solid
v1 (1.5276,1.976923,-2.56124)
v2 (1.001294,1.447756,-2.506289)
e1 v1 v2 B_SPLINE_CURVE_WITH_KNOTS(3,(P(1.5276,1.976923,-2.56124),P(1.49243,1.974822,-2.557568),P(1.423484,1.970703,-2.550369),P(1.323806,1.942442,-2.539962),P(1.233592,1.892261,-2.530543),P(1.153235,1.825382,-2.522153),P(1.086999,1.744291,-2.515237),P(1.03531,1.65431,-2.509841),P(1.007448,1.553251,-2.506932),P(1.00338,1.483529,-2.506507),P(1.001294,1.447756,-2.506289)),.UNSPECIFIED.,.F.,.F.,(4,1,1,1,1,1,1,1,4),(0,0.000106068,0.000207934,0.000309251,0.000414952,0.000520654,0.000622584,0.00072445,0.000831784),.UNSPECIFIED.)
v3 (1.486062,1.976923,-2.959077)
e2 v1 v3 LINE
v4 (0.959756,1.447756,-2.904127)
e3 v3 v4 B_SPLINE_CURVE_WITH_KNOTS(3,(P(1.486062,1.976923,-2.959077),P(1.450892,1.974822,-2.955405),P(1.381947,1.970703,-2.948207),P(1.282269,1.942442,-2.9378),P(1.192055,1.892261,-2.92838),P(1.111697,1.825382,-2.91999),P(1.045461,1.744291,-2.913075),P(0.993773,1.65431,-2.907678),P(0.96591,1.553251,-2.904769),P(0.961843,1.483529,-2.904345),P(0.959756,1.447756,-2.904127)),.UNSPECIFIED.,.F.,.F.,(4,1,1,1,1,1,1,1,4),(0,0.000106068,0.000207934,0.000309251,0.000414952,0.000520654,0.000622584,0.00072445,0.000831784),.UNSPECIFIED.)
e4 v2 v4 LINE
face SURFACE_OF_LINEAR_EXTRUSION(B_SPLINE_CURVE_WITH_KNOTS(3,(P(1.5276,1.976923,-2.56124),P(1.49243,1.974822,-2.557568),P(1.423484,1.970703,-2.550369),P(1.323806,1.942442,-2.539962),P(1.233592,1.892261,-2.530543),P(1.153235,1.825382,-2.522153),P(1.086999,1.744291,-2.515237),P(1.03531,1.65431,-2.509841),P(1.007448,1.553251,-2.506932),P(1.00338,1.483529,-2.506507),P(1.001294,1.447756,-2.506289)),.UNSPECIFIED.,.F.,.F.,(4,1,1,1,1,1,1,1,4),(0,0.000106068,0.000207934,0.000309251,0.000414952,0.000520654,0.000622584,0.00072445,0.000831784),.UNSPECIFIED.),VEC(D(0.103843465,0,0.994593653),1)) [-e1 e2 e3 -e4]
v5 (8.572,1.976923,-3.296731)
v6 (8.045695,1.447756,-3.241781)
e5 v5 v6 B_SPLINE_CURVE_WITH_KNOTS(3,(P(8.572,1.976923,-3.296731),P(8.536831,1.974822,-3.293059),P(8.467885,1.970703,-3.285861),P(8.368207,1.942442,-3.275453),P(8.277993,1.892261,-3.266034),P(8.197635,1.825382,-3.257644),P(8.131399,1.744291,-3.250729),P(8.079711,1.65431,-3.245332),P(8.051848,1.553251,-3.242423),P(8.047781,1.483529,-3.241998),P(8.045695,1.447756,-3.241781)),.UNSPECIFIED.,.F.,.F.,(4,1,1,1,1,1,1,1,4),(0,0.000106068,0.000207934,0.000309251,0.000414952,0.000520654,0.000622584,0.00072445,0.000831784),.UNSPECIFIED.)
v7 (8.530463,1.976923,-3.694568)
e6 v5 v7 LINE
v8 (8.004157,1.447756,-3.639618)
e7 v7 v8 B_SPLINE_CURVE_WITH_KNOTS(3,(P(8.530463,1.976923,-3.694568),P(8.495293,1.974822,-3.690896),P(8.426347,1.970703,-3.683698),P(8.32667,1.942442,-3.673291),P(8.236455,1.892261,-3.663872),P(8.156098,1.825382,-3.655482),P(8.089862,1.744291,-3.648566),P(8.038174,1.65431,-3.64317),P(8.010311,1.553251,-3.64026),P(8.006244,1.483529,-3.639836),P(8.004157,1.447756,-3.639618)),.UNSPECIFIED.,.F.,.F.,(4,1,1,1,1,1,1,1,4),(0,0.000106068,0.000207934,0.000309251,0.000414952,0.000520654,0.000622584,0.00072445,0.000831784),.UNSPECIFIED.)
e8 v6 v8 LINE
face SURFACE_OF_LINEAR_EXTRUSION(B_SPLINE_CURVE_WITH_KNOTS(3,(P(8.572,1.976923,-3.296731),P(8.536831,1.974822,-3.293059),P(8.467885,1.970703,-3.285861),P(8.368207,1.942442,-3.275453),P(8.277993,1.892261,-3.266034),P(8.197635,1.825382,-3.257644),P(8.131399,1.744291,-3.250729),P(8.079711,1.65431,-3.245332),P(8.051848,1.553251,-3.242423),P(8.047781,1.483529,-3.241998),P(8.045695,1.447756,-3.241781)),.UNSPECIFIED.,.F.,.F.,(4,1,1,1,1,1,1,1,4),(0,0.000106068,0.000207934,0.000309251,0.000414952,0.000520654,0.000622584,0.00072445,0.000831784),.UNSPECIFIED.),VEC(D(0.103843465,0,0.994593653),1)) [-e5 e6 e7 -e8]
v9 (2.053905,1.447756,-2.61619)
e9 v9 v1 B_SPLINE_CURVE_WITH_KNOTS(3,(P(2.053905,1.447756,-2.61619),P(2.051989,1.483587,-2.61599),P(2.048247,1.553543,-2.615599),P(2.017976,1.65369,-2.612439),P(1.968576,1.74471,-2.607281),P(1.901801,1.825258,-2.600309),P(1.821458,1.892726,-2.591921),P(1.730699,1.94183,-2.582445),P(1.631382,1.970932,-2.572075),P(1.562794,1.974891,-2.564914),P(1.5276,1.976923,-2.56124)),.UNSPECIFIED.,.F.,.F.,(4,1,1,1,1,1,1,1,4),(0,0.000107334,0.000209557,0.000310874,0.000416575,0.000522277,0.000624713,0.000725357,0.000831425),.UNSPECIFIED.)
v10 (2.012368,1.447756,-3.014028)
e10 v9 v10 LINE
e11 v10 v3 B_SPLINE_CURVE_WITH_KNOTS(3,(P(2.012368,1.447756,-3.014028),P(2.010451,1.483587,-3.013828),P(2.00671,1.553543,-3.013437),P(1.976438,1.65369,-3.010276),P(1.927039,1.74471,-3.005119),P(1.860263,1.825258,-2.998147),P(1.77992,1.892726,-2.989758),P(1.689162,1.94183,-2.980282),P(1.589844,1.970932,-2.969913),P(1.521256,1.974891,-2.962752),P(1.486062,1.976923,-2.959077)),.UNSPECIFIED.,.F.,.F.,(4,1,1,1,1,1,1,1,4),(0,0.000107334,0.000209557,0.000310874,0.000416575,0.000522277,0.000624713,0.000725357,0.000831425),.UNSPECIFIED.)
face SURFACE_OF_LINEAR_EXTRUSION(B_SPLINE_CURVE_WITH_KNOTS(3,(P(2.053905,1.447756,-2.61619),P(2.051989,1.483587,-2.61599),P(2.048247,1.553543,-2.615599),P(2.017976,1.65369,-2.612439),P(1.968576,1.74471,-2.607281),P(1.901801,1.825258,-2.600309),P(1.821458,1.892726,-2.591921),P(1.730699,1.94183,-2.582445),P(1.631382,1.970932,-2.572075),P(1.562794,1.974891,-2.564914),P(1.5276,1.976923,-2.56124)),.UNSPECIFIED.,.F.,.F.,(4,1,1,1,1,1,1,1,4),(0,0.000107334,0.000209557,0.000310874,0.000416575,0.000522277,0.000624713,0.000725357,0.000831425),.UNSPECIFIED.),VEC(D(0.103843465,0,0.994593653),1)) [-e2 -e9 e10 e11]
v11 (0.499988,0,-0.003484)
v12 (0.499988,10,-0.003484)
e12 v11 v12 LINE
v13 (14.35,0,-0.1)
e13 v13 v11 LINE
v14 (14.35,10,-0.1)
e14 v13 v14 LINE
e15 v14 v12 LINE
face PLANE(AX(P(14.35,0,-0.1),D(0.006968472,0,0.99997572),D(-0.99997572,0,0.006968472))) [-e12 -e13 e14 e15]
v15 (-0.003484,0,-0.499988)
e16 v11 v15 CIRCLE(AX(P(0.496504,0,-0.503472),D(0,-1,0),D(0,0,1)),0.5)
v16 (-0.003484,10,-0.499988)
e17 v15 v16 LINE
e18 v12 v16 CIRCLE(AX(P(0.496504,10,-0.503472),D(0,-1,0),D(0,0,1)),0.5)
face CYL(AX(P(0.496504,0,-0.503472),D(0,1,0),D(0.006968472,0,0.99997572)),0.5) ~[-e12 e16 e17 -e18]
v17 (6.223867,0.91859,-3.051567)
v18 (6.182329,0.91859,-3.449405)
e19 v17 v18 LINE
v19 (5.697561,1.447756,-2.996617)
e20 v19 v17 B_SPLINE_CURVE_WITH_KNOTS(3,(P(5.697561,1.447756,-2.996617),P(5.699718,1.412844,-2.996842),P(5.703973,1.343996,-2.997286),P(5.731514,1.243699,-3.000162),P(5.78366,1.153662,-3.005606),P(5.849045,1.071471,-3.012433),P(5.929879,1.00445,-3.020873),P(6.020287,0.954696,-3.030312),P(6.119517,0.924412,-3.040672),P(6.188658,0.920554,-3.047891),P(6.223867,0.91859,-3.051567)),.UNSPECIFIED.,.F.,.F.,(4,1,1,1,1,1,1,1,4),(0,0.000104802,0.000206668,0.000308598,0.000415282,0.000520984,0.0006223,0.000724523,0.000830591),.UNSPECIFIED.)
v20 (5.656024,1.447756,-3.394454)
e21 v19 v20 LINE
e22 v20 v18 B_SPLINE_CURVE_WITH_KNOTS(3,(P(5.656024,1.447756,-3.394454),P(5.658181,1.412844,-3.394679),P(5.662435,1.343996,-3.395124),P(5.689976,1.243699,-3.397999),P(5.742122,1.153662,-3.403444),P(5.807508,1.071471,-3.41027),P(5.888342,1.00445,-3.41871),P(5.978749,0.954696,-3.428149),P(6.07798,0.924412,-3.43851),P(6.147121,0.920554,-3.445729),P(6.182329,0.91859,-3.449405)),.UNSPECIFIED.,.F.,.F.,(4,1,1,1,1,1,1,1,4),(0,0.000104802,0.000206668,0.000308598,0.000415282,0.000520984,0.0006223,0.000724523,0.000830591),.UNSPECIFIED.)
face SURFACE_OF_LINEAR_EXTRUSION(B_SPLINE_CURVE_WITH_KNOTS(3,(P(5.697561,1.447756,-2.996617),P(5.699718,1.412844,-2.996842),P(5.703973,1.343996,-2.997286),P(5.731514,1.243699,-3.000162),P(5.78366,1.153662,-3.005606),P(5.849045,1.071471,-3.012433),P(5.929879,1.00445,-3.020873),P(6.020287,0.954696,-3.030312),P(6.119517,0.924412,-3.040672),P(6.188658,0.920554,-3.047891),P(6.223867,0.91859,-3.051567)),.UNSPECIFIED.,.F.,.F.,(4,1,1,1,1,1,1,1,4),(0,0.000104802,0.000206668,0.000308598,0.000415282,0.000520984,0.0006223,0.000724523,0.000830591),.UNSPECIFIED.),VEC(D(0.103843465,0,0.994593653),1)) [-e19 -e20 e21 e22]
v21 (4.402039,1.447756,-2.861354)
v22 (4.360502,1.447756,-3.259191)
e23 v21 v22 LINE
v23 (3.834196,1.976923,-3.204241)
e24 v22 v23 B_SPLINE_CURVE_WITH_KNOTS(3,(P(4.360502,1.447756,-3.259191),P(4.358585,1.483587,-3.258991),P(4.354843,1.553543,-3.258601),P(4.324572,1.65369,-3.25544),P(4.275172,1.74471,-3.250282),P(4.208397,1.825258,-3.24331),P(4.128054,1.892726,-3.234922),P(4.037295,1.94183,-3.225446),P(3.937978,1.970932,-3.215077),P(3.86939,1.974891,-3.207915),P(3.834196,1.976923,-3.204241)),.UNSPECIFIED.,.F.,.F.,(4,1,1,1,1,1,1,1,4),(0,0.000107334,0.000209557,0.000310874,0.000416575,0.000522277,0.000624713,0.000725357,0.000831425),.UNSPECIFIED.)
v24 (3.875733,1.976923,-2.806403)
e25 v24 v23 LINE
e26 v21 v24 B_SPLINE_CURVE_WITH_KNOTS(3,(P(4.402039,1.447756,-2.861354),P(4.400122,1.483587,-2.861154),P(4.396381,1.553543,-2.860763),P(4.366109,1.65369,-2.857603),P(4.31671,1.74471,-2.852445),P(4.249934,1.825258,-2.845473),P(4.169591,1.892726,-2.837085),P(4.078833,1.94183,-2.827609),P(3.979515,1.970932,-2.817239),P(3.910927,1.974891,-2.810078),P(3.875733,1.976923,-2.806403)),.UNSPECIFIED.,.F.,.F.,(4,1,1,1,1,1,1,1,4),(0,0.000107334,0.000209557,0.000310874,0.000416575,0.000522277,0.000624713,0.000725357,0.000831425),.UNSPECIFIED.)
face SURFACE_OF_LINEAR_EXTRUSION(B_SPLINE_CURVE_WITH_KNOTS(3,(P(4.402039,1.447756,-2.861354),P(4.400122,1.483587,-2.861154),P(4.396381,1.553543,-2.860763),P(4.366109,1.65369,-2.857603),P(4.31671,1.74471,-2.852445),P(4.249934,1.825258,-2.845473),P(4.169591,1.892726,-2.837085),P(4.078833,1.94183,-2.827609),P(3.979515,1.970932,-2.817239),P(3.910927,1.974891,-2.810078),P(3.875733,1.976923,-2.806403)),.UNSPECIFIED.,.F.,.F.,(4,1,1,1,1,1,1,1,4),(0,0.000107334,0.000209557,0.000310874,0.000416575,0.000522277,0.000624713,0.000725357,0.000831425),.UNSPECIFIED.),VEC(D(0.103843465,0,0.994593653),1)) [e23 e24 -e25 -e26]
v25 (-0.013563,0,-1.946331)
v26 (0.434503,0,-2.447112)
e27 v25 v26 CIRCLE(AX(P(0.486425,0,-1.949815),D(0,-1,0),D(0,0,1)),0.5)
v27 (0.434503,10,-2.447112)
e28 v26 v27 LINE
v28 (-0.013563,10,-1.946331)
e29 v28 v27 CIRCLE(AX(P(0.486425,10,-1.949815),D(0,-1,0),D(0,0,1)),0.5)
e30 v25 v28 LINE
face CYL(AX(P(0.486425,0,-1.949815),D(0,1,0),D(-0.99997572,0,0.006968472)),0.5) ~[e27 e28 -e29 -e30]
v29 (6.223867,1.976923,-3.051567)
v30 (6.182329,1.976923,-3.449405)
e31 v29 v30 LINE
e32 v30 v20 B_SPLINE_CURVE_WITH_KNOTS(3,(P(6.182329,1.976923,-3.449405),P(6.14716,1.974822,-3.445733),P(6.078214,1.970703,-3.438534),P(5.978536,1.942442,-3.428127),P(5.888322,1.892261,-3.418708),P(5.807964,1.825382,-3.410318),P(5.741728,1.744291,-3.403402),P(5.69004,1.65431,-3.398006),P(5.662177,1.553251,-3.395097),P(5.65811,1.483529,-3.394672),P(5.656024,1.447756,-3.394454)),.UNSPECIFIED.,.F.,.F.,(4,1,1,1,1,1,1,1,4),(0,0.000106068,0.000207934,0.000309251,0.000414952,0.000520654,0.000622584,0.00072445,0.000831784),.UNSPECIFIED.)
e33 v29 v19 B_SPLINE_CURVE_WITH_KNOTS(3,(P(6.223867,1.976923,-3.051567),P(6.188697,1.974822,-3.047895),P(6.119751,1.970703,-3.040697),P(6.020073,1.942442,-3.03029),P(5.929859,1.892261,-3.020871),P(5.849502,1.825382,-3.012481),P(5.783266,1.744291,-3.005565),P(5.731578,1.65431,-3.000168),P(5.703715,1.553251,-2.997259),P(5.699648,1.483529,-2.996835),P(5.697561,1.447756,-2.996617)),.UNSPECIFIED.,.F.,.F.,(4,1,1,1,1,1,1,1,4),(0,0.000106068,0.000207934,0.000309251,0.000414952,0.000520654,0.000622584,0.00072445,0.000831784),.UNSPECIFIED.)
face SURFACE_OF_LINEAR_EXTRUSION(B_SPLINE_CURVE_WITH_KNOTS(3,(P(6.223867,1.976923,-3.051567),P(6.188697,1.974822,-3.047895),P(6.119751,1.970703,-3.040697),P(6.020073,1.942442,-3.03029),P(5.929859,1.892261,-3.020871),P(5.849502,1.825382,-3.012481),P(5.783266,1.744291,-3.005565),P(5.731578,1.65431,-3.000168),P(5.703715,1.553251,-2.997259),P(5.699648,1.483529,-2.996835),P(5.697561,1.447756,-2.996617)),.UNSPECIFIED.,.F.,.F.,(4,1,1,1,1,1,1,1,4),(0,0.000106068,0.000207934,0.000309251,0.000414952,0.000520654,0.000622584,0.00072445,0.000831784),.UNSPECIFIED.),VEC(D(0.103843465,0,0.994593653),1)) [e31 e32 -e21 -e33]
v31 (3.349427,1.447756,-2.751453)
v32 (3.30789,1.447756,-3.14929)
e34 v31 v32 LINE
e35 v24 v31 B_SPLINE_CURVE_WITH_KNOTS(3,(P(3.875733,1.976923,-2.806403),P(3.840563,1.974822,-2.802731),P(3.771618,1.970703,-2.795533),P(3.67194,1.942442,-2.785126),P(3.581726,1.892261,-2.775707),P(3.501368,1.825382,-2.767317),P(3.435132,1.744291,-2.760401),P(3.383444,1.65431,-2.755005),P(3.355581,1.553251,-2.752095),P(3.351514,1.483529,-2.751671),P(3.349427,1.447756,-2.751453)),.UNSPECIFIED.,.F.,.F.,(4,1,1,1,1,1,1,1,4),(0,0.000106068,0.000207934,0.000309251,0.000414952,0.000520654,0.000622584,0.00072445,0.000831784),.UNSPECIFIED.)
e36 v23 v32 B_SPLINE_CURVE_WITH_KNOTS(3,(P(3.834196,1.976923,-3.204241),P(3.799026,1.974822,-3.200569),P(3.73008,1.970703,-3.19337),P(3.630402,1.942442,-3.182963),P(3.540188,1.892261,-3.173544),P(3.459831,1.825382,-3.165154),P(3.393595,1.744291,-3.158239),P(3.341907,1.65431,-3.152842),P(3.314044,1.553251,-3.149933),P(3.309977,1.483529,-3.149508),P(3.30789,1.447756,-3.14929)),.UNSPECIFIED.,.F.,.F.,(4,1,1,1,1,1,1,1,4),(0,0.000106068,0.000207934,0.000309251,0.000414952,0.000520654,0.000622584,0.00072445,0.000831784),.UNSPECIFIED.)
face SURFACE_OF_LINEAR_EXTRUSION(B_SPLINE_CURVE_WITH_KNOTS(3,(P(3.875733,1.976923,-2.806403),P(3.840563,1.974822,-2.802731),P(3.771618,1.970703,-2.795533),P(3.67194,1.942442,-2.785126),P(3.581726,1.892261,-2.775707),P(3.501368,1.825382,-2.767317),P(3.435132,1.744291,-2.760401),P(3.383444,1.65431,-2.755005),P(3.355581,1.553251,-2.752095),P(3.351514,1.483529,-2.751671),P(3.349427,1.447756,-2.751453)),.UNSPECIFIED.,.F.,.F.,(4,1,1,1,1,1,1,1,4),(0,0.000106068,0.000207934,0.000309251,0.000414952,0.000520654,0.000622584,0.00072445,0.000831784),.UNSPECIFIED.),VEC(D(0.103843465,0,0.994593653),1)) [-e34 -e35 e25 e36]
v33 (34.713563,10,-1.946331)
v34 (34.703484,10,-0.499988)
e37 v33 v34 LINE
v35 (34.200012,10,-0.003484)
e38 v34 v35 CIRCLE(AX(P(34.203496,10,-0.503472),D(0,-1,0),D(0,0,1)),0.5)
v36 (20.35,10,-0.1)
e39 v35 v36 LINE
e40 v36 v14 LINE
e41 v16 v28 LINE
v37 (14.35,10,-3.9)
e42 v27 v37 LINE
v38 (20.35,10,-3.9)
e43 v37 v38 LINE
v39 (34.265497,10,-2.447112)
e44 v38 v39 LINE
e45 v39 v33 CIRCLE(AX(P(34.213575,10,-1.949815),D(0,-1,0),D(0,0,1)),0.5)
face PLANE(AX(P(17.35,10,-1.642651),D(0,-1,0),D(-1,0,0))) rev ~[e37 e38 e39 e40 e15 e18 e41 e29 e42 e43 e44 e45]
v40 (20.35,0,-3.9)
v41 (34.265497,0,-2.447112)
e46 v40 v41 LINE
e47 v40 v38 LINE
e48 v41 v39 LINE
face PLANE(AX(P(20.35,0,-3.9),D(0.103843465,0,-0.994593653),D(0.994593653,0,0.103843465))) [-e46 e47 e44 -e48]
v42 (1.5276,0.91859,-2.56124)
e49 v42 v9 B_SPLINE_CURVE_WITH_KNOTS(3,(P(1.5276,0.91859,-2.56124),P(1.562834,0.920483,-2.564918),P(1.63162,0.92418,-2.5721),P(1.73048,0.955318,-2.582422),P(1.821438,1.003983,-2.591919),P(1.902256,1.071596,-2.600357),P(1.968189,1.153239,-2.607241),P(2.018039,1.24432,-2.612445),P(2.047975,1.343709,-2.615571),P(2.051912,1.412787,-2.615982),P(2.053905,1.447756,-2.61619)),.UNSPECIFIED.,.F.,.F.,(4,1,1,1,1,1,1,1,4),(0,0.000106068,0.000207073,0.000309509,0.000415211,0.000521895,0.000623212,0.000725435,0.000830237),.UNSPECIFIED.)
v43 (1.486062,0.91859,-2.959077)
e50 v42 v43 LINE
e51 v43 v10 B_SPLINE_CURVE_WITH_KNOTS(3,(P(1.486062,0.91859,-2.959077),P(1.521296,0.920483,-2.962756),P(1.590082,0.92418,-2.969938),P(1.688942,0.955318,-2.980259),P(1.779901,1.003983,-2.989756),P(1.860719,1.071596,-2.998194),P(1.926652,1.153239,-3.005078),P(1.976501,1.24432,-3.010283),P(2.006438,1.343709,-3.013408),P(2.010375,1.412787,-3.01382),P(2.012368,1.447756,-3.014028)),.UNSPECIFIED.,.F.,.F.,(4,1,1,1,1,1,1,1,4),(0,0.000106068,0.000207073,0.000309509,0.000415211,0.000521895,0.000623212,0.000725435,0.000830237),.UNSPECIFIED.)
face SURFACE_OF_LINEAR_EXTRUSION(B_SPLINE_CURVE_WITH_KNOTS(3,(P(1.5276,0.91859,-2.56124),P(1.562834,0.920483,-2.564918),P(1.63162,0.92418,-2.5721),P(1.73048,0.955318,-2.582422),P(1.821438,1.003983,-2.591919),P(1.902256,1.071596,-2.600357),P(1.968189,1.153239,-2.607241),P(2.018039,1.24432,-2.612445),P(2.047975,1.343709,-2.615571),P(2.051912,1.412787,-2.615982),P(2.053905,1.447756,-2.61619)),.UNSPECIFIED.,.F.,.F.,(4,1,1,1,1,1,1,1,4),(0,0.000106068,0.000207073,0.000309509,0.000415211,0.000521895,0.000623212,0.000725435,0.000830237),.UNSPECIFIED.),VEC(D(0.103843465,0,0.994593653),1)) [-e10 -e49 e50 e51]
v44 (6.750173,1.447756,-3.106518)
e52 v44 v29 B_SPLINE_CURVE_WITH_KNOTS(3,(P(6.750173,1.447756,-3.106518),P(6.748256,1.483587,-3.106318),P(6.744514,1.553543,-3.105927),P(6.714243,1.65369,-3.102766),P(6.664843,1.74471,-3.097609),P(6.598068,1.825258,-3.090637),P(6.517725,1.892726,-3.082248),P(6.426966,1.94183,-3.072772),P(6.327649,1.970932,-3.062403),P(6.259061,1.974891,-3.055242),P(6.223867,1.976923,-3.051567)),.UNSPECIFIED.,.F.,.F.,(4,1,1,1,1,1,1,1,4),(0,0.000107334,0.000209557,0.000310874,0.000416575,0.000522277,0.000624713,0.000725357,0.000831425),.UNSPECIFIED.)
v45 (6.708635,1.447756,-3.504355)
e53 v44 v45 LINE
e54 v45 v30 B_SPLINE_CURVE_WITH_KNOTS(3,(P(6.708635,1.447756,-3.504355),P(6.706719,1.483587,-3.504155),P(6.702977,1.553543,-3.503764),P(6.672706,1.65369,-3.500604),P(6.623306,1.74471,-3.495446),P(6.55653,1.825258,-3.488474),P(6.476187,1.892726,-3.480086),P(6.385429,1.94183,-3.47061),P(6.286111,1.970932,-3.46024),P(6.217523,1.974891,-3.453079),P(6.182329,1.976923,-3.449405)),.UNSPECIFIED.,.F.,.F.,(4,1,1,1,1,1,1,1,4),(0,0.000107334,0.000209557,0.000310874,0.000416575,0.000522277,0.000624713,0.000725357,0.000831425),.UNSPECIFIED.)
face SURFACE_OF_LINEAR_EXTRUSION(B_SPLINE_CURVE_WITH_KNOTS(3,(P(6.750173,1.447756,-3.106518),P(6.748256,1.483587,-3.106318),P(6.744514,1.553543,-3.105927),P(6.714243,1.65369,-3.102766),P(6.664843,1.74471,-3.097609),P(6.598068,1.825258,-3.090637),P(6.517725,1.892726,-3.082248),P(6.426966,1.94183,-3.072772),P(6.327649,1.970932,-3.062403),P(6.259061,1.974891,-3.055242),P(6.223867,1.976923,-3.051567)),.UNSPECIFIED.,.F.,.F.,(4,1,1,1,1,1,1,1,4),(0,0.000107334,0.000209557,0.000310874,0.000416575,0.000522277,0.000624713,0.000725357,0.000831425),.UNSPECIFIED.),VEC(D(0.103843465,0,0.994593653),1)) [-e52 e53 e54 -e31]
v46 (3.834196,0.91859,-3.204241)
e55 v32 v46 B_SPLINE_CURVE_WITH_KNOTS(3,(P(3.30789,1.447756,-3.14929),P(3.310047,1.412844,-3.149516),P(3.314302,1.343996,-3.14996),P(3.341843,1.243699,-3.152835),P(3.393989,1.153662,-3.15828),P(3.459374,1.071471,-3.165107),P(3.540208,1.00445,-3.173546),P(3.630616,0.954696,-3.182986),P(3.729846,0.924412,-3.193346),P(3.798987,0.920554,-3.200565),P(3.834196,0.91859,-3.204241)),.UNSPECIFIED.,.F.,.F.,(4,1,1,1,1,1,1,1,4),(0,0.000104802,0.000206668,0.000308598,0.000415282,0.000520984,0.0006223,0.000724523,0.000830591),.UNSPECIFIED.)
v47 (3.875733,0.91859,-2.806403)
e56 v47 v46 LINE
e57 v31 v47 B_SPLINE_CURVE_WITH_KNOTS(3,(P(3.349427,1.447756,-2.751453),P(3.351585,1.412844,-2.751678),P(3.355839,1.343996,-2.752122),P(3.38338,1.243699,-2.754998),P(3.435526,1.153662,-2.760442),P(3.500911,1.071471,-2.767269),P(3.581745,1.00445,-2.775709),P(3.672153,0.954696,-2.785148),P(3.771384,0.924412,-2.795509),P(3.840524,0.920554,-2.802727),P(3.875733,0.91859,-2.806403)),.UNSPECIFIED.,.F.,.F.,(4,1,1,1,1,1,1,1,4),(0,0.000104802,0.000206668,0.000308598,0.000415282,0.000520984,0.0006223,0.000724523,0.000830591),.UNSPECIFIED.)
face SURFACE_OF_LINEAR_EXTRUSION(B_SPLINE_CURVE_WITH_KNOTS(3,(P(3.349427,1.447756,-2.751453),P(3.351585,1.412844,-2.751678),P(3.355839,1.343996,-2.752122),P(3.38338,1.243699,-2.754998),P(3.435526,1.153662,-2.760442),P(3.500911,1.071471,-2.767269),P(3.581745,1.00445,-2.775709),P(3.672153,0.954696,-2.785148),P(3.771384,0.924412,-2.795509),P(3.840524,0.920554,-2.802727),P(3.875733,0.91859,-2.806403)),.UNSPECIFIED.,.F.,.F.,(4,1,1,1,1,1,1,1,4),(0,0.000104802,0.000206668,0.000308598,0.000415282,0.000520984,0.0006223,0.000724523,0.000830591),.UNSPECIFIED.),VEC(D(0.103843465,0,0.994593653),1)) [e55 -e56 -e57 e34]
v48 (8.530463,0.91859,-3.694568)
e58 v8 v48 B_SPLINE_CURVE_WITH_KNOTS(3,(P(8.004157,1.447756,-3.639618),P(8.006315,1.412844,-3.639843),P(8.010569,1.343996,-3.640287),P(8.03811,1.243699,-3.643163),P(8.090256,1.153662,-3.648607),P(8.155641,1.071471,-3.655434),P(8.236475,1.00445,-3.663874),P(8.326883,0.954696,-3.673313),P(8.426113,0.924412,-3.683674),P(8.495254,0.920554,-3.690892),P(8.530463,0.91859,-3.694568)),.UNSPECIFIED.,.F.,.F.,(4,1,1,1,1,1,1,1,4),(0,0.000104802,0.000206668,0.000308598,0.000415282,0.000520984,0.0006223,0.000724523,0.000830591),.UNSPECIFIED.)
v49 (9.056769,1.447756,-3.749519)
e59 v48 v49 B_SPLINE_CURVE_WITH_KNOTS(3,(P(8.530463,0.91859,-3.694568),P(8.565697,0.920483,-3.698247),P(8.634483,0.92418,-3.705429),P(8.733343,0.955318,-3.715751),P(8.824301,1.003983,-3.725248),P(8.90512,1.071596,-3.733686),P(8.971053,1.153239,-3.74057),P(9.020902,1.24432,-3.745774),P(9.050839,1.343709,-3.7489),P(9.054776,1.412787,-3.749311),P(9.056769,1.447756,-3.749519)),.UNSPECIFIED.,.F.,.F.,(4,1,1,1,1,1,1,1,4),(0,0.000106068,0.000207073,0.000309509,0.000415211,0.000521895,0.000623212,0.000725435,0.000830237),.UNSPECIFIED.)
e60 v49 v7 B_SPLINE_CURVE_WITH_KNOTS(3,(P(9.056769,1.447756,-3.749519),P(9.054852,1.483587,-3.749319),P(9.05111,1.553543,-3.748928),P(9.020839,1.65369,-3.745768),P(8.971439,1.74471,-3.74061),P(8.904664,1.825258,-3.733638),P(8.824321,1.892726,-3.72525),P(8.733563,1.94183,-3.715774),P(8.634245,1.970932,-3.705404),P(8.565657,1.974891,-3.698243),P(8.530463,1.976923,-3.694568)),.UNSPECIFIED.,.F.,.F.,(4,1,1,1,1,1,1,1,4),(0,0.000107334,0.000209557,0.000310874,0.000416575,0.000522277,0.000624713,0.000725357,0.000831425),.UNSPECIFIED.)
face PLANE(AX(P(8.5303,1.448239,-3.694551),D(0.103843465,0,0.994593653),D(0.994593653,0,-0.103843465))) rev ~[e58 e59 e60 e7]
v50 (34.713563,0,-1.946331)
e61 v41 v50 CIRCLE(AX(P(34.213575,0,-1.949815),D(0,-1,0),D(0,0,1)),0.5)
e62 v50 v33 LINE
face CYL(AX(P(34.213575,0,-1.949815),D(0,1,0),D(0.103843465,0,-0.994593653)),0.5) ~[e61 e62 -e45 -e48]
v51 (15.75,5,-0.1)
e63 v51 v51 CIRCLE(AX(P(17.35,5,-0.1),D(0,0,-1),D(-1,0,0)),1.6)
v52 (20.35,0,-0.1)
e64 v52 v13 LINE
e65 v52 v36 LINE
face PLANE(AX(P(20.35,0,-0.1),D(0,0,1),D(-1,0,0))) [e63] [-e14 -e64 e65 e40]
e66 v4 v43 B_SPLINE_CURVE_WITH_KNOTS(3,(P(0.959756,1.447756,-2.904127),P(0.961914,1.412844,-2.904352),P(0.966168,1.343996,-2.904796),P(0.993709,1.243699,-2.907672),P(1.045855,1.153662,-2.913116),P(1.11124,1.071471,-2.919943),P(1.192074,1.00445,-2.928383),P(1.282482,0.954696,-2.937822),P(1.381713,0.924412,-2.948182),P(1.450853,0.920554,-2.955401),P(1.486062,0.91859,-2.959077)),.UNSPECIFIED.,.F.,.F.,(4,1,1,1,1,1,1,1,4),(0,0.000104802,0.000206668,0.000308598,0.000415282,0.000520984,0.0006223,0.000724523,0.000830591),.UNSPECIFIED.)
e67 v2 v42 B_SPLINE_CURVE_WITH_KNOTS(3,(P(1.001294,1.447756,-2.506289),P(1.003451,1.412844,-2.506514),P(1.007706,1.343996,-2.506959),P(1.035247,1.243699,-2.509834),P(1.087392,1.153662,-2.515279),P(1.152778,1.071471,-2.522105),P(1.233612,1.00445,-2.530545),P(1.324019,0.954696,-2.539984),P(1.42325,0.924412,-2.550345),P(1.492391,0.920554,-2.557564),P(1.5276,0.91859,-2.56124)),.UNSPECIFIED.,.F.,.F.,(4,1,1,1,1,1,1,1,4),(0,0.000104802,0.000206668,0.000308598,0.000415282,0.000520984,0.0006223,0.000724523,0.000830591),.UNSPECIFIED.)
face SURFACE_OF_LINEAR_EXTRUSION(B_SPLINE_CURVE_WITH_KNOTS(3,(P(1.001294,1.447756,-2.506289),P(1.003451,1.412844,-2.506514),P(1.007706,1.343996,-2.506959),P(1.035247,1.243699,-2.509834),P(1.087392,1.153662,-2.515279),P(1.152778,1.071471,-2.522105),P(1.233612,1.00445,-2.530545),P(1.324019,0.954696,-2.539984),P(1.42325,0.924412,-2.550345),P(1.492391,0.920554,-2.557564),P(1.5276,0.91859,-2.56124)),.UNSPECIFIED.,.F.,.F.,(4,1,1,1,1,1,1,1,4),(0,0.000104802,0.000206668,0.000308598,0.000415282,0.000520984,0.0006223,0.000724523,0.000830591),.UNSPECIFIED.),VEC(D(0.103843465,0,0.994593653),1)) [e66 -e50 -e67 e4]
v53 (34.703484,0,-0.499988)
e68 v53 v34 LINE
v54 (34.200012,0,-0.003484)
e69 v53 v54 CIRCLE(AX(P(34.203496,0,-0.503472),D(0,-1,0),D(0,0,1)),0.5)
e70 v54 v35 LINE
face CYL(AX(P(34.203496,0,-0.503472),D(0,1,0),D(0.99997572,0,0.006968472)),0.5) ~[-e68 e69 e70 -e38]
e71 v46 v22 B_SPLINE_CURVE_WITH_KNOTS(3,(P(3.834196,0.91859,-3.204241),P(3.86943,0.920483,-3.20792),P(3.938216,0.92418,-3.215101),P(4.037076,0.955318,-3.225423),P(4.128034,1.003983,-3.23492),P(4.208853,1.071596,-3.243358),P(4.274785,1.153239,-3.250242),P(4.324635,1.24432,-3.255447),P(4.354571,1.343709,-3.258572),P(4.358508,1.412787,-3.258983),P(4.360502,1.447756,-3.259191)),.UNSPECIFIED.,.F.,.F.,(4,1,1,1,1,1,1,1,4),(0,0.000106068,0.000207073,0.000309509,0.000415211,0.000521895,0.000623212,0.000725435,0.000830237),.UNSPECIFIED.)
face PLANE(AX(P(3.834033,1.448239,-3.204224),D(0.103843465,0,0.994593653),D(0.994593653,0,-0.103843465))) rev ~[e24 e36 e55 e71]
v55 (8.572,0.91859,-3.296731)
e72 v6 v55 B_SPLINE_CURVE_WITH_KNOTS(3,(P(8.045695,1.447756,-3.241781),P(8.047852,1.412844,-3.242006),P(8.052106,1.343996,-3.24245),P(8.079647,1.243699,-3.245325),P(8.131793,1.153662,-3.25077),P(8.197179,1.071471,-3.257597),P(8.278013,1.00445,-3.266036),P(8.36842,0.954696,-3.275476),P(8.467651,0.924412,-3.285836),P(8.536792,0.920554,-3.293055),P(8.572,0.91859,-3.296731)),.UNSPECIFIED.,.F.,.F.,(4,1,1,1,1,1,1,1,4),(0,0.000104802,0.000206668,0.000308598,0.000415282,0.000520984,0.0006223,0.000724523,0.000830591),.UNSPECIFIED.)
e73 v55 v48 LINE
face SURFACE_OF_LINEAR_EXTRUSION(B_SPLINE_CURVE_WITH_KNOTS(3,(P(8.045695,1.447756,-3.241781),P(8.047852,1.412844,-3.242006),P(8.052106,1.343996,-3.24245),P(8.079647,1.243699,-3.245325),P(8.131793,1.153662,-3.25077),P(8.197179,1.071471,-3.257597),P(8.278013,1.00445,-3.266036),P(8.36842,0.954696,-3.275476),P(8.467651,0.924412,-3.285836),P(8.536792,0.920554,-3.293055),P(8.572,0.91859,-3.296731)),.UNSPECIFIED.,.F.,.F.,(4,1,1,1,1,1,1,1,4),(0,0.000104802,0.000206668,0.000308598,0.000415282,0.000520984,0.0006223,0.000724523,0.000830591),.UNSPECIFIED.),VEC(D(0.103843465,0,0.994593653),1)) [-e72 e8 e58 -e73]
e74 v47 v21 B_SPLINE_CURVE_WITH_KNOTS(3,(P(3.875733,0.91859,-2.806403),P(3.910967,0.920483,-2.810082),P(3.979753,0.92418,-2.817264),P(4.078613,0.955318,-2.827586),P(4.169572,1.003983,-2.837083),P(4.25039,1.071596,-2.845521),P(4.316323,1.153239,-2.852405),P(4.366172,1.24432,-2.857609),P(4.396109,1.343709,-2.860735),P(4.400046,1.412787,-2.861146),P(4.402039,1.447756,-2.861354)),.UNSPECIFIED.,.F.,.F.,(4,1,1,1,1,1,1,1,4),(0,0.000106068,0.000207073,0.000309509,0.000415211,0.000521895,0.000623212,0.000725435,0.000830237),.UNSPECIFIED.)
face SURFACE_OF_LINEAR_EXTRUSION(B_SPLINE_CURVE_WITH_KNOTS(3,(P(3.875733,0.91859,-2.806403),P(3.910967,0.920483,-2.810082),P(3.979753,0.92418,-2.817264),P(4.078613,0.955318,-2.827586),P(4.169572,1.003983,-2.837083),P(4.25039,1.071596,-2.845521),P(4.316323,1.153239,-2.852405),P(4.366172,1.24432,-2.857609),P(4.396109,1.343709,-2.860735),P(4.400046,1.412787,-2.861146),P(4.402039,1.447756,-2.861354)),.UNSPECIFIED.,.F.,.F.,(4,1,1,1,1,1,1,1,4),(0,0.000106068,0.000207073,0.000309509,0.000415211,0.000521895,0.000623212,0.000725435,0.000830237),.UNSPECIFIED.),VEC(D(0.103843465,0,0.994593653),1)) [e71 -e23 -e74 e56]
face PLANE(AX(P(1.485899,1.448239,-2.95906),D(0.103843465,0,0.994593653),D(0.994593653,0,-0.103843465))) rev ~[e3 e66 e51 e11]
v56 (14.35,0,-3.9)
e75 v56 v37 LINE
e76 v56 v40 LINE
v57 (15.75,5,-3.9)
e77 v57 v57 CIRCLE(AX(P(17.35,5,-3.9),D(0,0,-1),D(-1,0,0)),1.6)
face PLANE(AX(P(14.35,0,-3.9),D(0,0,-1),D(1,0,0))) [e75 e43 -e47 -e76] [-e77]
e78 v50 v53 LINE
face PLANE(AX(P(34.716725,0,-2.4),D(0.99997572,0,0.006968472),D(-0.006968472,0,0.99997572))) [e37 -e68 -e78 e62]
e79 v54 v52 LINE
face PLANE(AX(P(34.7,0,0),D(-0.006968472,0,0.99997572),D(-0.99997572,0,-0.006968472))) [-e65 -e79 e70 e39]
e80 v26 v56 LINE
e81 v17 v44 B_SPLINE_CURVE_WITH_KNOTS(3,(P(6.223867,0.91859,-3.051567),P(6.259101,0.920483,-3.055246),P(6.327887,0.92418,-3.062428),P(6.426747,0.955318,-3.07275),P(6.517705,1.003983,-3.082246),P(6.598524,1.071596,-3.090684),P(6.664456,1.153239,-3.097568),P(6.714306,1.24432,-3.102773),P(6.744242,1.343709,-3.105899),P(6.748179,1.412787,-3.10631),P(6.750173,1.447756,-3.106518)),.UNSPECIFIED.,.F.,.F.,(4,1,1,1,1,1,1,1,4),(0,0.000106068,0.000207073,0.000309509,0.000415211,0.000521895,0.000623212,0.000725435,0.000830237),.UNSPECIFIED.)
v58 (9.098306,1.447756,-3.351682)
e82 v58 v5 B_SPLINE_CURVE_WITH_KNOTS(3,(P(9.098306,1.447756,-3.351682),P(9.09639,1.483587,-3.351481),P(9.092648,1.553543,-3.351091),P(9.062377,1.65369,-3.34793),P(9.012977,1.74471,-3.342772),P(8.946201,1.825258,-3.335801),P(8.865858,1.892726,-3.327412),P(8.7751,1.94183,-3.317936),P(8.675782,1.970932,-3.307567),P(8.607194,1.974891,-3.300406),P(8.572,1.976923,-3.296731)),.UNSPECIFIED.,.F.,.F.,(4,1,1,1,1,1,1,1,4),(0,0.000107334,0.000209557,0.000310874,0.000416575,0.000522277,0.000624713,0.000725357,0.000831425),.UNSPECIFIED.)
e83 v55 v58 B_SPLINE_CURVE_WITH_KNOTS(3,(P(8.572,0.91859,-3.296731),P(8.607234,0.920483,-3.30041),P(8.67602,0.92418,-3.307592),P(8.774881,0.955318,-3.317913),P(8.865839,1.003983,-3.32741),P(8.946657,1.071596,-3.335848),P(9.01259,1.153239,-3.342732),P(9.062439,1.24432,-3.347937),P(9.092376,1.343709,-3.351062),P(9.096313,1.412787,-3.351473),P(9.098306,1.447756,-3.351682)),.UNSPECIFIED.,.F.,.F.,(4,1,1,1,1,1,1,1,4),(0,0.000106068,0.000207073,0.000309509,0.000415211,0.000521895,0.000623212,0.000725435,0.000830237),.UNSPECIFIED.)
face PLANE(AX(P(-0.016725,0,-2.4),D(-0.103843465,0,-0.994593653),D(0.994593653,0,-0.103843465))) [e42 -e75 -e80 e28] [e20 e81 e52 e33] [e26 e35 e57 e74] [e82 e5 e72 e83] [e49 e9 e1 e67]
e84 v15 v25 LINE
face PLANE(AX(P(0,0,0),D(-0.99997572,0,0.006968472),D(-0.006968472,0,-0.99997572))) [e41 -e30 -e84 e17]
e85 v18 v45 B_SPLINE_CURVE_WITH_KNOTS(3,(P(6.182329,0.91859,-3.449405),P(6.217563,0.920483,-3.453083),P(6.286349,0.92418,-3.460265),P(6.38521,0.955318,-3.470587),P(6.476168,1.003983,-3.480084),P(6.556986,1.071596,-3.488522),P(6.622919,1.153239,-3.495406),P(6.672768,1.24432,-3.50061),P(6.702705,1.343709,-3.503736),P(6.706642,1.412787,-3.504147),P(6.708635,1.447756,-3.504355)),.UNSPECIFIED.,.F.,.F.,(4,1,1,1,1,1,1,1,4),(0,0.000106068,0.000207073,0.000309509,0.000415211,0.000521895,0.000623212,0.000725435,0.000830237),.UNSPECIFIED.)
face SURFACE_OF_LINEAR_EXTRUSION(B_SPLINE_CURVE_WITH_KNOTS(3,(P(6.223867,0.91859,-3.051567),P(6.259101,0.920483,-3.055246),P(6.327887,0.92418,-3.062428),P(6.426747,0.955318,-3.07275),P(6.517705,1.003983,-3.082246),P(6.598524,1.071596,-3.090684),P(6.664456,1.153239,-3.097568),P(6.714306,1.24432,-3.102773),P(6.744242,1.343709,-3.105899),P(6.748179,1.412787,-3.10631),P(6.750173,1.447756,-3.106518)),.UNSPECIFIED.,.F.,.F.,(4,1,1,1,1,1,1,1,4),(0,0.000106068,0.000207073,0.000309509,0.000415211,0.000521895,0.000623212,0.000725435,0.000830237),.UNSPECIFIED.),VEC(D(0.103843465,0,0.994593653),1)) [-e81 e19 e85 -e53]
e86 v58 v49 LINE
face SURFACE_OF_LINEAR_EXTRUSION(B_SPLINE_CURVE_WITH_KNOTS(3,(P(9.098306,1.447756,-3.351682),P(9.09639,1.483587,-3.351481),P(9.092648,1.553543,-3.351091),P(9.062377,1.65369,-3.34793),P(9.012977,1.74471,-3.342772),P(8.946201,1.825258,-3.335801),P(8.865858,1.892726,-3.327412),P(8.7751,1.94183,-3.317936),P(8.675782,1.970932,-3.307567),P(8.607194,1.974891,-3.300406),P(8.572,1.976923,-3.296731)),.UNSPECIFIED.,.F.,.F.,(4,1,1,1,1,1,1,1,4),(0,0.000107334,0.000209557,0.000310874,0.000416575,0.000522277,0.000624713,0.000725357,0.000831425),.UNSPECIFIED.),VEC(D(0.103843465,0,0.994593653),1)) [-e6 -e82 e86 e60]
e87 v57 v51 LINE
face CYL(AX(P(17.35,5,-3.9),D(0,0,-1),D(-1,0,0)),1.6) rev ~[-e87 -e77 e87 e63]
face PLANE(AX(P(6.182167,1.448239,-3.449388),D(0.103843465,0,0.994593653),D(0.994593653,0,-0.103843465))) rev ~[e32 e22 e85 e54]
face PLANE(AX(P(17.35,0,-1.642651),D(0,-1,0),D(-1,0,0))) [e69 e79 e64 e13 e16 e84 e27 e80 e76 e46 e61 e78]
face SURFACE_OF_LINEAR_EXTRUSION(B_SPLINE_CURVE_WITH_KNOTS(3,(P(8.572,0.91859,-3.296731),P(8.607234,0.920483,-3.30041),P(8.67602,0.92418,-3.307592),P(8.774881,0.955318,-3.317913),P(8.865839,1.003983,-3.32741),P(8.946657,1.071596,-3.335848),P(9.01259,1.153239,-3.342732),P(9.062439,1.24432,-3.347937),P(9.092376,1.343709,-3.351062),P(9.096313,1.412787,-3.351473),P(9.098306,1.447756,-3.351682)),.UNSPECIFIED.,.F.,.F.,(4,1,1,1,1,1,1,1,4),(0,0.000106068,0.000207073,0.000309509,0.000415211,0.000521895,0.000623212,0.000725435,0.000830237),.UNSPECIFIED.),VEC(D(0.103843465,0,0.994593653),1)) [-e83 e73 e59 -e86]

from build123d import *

# Parameters (mm, degrees)
BOSS_EXTRUDE1_DEPTH       = 10
FILLET2_R                 = 0.5
SKETCH2_R                 = 1.6
CUT_EXTRUDE1_DEPTH        = 4.896527904
REVISION_INDICATION_DEPTH = 0.4


with BuildPart() as part:
    # Sketch1 → Boss-Extrude1 (new body)
    with BuildSketch(Plane(origin=(0, 0, 0), x_dir=(1, 0, 0), z_dir=(0, 1, 0))):
        Polygon((20.35, 0.1), (14.35, 0.1), (0, 0), (-0.016724739, 2.4), (14.35, 3.9), (20.35, 3.9), (34.716724739, 2.4), (34.7, 0), align=None)
    extrude(amount=BOSS_EXTRUDE1_DEPTH)

    # Fillet2
    fillet2_edges = [part.edges().sort_by_distance(p)[0] for p in [
        (-0.016724739, 5, -2.4),
        (34.716724739, 5, -2.4),
        (34.7, 5, 0),
        (0, 5, 0),
    ]]
    fillet(fillet2_edges, radius=FILLET2_R)

    # Sketch2 → Cut-Extrude1 (cut, through all)
    with BuildSketch(Plane(origin=(0, 0, -3.9), x_dir=(-1, 0, 0), z_dir=(0, 0, -1))):
        with Locations((-17.35, 5)):
            Circle(SKETCH2_R)
    extrude(amount=-CUT_EXTRUDE1_DEPTH, mode=Mode.SUBTRACT)

    # Sketch5 → revision indication (add)
    with BuildSketch(Plane(origin=(-0.248057274, 0, -2.375847049), x_dir=(-0.994593653, 0, 0.103843465), z_dir=(-0.103843465, 0, -0.994593653))):
        with BuildLine():
            add(Edge.make_bspline(
                [(-1.785308798, 1.976923077), (-1.749947985, 1.974821832), (-1.680627244, 1.970702586), (-1.580407683, 1.942442049), (-1.489703086, 1.892261337), (-1.40890887, 1.825381725), (-1.342312834, 1.744291021), (-1.290343795, 1.654309873), (-1.262329436, 1.553251269), (-1.258240196, 1.483528859), (-1.256142132, 1.44775641)],
                knots=[0, 0, 0, 0, 0.000106068, 0.000207934, 0.000309251, 0.000414952, 0.000520654, 0.000622584, 0.00072445, 0.000831784, 0.000831784, 0.000831784, 0.000831784], degree=3))
            add(Edge.make_bspline(
                [(-1.256142132, 1.44775641), (-1.258311293, 1.412843512), (-1.262588847, 1.343995789), (-1.290279579, 1.243699421), (-1.342708899, 1.153662038), (-1.408449529, 1.071471016), (-1.489723058, 1.004449722), (-1.580622123, 0.954695939), (-1.680391977, 0.924411918), (-1.749908735, 0.920554208), (-1.785308798, 0.918589744)],
                knots=[0, 0, 0, 0, 0.000104802, 0.000206668, 0.000308598, 0.000415282, 0.000520984, 0.0006223, 0.000724523, 0.000830591, 0.000830591, 0.000830591, 0.000830591], degree=3))
            add(Edge.make_bspline(
                [(-1.785308798, 0.918589744), (-1.82073437, 0.920483127), (-1.889894366, 0.924179507), (-1.989291812, 0.955317742), (-2.080744455, 1.003983162), (-2.162002161, 1.071595984), (-2.228293388, 1.153239101), (-2.278413725, 1.244319503), (-2.308512996, 1.343708683), (-2.312471536, 1.412786963), (-2.314475465, 1.44775641)],
                knots=[0, 0, 0, 0, 0.000106068, 0.000207073, 0.000309509, 0.000415211, 0.000521895, 0.000623212, 0.000725435, 0.000830237, 0.000830237, 0.000830237, 0.000830237], degree=3))
            add(Edge.make_bspline(
                [(-2.314475465, 1.44775641), (-2.312548513, 1.483587428), (-2.308786377, 1.553543092), (-2.278350536, 1.653690044), (-2.228682266, 1.744709926), (-2.161543907, 1.825258007), (-2.080764113, 1.892726399), (-1.989512426, 1.941829667), (-1.889654975, 1.970931558), (-1.820694086, 1.974891267), (-1.785308798, 1.976923077)],
                knots=[0, 0, 0, 0, 0.000107334, 0.000209557, 0.000310874, 0.000416575, 0.000522277, 0.000624713, 0.000725357, 0.000831425, 0.000831425, 0.000831425, 0.000831425], degree=3))
        make_face()
        with BuildLine():
            add(Edge.make_bspline(
                [(-4.146206234, 1.976923077), (-4.110845421, 1.974821832), (-4.04152468, 1.970702586), (-3.941305118, 1.942442049), (-3.850600522, 1.892261337), (-3.769806306, 1.825381725), (-3.70321027, 1.744291021), (-3.651241231, 1.654309873), (-3.623226872, 1.553251269), (-3.619137632, 1.483528859), (-3.617039568, 1.44775641)],
                knots=[0, 0, 0, 0, 0.000106068, 0.000207934, 0.000309251, 0.000414952, 0.000520654, 0.000622584, 0.00072445, 0.000831784, 0.000831784, 0.000831784, 0.000831784], degree=3))
            add(Edge.make_bspline(
                [(-3.617039568, 1.44775641), (-3.619208729, 1.412843512), (-3.623486283, 1.343995789), (-3.651177015, 1.243699421), (-3.703606335, 1.153662038), (-3.769346965, 1.071471016), (-3.850620494, 1.004449722), (-3.941519559, 0.954695939), (-4.041289413, 0.924411918), (-4.110806171, 0.920554208), (-4.146206234, 0.918589744)],
                knots=[0, 0, 0, 0, 0.000104802, 0.000206668, 0.000308598, 0.000415282, 0.000520984, 0.0006223, 0.000724523, 0.000830591, 0.000830591, 0.000830591, 0.000830591], degree=3))
            add(Edge.make_bspline(
                [(-4.146206234, 0.918589744), (-4.181631806, 0.920483127), (-4.250791802, 0.924179507), (-4.350189248, 0.955317742), (-4.441641891, 1.003983162), (-4.522899597, 1.071595984), (-4.589190824, 1.153239101), (-4.639311161, 1.244319503), (-4.669410431, 1.343708683), (-4.673368972, 1.412786963), (-4.675372901, 1.44775641)],
                knots=[0, 0, 0, 0, 0.000106068, 0.000207073, 0.000309509, 0.000415211, 0.000521895, 0.000623212, 0.000725435, 0.000830237, 0.000830237, 0.000830237, 0.000830237], degree=3))
            add(Edge.make_bspline(
                [(-4.675372901, 1.44775641), (-4.673445949, 1.483587428), (-4.669683813, 1.553543092), (-4.639247972, 1.653690044), (-4.589579702, 1.744709926), (-4.522441343, 1.825258007), (-4.441661549, 1.892726399), (-4.350409862, 1.941829667), (-4.25055241, 1.970931558), (-4.181591522, 1.974891267), (-4.146206234, 1.976923077)],
                knots=[0, 0, 0, 0, 0.000107334, 0.000209557, 0.000310874, 0.000416575, 0.000522277, 0.000624713, 0.000725357, 0.000831425, 0.000831425, 0.000831425, 0.000831425], degree=3))
        make_face()
        with BuildLine():
            add(Edge.make_bspline(
                [(-6.50710367, 1.976923077), (-6.471742857, 1.974821832), (-6.402422116, 1.970702586), (-6.302202554, 1.942442049), (-6.211497957, 1.892261337), (-6.130703742, 1.825381725), (-6.064107706, 1.744291021), (-6.012138667, 1.654309873), (-5.984124308, 1.553251269), (-5.980035068, 1.483528859), (-5.977937003, 1.44775641)],
                knots=[0, 0, 0, 0, 0.000106068, 0.000207934, 0.000309251, 0.000414952, 0.000520654, 0.000622584, 0.00072445, 0.000831784, 0.000831784, 0.000831784, 0.000831784], degree=3))
            add(Edge.make_bspline(
                [(-5.977937003, 1.44775641), (-5.980106165, 1.412843512), (-5.984383719, 1.343995789), (-6.012074451, 1.243699421), (-6.064503771, 1.153662038), (-6.130244401, 1.071471016), (-6.21151793, 1.004449722), (-6.302416994, 0.954695939), (-6.402186849, 0.924411918), (-6.471703607, 0.920554208), (-6.50710367, 0.918589744)],
                knots=[0, 0, 0, 0, 0.000104802, 0.000206668, 0.000308598, 0.000415282, 0.000520984, 0.0006223, 0.000724523, 0.000830591, 0.000830591, 0.000830591, 0.000830591], degree=3))
            add(Edge.make_bspline(
                [(-6.50710367, 0.918589744), (-6.542529242, 0.920483127), (-6.611689237, 0.924179507), (-6.711086684, 0.955317742), (-6.802539327, 1.003983162), (-6.883797033, 1.071595984), (-6.95008826, 1.153239101), (-7.000208597, 1.244319503), (-7.030307867, 1.343708683), (-7.034266408, 1.412786963), (-7.036270337, 1.44775641)],
                knots=[0, 0, 0, 0, 0.000106068, 0.000207073, 0.000309509, 0.000415211, 0.000521895, 0.000623212, 0.000725435, 0.000830237, 0.000830237, 0.000830237, 0.000830237], degree=3))
            add(Edge.make_bspline(
                [(-7.036270337, 1.44775641), (-7.034343385, 1.483587428), (-7.030581249, 1.553543092), (-7.000145408, 1.653690044), (-6.950477138, 1.744709926), (-6.883338779, 1.825258007), (-6.802558985, 1.892726399), (-6.711307298, 1.941829667), (-6.611449846, 1.970931558), (-6.542488958, 1.974891267), (-6.50710367, 1.976923077)],
                knots=[0, 0, 0, 0, 0.000107334, 0.000209557, 0.000310874, 0.000416575, 0.000522277, 0.000624713, 0.000725357, 0.000831425, 0.000831425, 0.000831425, 0.000831425], degree=3))
        make_face()
        with BuildLine():
            add(Edge.make_bspline(
                [(-8.868001106, 1.976923077), (-8.832640293, 1.974821832), (-8.763319552, 1.970702586), (-8.66309999, 1.942442049), (-8.572395393, 1.892261337), (-8.491601178, 1.825381725), (-8.425005142, 1.744291021), (-8.373036103, 1.654309873), (-8.345021744, 1.553251269), (-8.340932504, 1.483528859), (-8.338834439, 1.44775641)],
                knots=[0, 0, 0, 0, 0.000106068, 0.000207934, 0.000309251, 0.000414952, 0.000520654, 0.000622584, 0.00072445, 0.000831784, 0.000831784, 0.000831784, 0.000831784], degree=3))
            add(Edge.make_bspline(
                [(-8.338834439, 1.44775641), (-8.341003601, 1.412843512), (-8.345281155, 1.343995789), (-8.372971887, 1.243699421), (-8.425401207, 1.153662038), (-8.491141837, 1.071471016), (-8.572415366, 1.004449722), (-8.66331443, 0.954695939), (-8.763084284, 0.924411918), (-8.832601042, 0.920554208), (-8.868001106, 0.918589744)],
                knots=[0, 0, 0, 0, 0.000104802, 0.000206668, 0.000308598, 0.000415282, 0.000520984, 0.0006223, 0.000724523, 0.000830591, 0.000830591, 0.000830591, 0.000830591], degree=3))
            add(Edge.make_bspline(
                [(-8.868001106, 0.918589744), (-8.903426678, 0.920483127), (-8.972586673, 0.924179507), (-9.07198412, 0.955317742), (-9.163436763, 1.003983162), (-9.244694469, 1.071595984), (-9.310985696, 1.153239101), (-9.361106033, 1.244319503), (-9.391205303, 1.343708683), (-9.395163844, 1.412786963), (-9.397167773, 1.44775641)],
                knots=[0, 0, 0, 0, 0.000106068, 0.000207073, 0.000309509, 0.000415211, 0.000521895, 0.000623212, 0.000725435, 0.000830237, 0.000830237, 0.000830237, 0.000830237], degree=3))
            add(Edge.make_bspline(
                [(-9.397167773, 1.44775641), (-9.395240821, 1.483587428), (-9.391478685, 1.553543092), (-9.361042844, 1.653690044), (-9.311374574, 1.744709926), (-9.244236214, 1.825258007), (-9.16345642, 1.892726399), (-9.072204734, 1.941829667), (-8.972347282, 1.970931558), (-8.903386394, 1.974891267), (-8.868001106, 1.976923077)],
                knots=[0, 0, 0, 0, 0.000107334, 0.000209557, 0.000310874, 0.000416575, 0.000522277, 0.000624713, 0.000725357, 0.000831425, 0.000831425, 0.000831425, 0.000831425], degree=3))
        make_face()
    extrude(amount=REVISION_INDICATION_DEPTH)


solid = part.part
